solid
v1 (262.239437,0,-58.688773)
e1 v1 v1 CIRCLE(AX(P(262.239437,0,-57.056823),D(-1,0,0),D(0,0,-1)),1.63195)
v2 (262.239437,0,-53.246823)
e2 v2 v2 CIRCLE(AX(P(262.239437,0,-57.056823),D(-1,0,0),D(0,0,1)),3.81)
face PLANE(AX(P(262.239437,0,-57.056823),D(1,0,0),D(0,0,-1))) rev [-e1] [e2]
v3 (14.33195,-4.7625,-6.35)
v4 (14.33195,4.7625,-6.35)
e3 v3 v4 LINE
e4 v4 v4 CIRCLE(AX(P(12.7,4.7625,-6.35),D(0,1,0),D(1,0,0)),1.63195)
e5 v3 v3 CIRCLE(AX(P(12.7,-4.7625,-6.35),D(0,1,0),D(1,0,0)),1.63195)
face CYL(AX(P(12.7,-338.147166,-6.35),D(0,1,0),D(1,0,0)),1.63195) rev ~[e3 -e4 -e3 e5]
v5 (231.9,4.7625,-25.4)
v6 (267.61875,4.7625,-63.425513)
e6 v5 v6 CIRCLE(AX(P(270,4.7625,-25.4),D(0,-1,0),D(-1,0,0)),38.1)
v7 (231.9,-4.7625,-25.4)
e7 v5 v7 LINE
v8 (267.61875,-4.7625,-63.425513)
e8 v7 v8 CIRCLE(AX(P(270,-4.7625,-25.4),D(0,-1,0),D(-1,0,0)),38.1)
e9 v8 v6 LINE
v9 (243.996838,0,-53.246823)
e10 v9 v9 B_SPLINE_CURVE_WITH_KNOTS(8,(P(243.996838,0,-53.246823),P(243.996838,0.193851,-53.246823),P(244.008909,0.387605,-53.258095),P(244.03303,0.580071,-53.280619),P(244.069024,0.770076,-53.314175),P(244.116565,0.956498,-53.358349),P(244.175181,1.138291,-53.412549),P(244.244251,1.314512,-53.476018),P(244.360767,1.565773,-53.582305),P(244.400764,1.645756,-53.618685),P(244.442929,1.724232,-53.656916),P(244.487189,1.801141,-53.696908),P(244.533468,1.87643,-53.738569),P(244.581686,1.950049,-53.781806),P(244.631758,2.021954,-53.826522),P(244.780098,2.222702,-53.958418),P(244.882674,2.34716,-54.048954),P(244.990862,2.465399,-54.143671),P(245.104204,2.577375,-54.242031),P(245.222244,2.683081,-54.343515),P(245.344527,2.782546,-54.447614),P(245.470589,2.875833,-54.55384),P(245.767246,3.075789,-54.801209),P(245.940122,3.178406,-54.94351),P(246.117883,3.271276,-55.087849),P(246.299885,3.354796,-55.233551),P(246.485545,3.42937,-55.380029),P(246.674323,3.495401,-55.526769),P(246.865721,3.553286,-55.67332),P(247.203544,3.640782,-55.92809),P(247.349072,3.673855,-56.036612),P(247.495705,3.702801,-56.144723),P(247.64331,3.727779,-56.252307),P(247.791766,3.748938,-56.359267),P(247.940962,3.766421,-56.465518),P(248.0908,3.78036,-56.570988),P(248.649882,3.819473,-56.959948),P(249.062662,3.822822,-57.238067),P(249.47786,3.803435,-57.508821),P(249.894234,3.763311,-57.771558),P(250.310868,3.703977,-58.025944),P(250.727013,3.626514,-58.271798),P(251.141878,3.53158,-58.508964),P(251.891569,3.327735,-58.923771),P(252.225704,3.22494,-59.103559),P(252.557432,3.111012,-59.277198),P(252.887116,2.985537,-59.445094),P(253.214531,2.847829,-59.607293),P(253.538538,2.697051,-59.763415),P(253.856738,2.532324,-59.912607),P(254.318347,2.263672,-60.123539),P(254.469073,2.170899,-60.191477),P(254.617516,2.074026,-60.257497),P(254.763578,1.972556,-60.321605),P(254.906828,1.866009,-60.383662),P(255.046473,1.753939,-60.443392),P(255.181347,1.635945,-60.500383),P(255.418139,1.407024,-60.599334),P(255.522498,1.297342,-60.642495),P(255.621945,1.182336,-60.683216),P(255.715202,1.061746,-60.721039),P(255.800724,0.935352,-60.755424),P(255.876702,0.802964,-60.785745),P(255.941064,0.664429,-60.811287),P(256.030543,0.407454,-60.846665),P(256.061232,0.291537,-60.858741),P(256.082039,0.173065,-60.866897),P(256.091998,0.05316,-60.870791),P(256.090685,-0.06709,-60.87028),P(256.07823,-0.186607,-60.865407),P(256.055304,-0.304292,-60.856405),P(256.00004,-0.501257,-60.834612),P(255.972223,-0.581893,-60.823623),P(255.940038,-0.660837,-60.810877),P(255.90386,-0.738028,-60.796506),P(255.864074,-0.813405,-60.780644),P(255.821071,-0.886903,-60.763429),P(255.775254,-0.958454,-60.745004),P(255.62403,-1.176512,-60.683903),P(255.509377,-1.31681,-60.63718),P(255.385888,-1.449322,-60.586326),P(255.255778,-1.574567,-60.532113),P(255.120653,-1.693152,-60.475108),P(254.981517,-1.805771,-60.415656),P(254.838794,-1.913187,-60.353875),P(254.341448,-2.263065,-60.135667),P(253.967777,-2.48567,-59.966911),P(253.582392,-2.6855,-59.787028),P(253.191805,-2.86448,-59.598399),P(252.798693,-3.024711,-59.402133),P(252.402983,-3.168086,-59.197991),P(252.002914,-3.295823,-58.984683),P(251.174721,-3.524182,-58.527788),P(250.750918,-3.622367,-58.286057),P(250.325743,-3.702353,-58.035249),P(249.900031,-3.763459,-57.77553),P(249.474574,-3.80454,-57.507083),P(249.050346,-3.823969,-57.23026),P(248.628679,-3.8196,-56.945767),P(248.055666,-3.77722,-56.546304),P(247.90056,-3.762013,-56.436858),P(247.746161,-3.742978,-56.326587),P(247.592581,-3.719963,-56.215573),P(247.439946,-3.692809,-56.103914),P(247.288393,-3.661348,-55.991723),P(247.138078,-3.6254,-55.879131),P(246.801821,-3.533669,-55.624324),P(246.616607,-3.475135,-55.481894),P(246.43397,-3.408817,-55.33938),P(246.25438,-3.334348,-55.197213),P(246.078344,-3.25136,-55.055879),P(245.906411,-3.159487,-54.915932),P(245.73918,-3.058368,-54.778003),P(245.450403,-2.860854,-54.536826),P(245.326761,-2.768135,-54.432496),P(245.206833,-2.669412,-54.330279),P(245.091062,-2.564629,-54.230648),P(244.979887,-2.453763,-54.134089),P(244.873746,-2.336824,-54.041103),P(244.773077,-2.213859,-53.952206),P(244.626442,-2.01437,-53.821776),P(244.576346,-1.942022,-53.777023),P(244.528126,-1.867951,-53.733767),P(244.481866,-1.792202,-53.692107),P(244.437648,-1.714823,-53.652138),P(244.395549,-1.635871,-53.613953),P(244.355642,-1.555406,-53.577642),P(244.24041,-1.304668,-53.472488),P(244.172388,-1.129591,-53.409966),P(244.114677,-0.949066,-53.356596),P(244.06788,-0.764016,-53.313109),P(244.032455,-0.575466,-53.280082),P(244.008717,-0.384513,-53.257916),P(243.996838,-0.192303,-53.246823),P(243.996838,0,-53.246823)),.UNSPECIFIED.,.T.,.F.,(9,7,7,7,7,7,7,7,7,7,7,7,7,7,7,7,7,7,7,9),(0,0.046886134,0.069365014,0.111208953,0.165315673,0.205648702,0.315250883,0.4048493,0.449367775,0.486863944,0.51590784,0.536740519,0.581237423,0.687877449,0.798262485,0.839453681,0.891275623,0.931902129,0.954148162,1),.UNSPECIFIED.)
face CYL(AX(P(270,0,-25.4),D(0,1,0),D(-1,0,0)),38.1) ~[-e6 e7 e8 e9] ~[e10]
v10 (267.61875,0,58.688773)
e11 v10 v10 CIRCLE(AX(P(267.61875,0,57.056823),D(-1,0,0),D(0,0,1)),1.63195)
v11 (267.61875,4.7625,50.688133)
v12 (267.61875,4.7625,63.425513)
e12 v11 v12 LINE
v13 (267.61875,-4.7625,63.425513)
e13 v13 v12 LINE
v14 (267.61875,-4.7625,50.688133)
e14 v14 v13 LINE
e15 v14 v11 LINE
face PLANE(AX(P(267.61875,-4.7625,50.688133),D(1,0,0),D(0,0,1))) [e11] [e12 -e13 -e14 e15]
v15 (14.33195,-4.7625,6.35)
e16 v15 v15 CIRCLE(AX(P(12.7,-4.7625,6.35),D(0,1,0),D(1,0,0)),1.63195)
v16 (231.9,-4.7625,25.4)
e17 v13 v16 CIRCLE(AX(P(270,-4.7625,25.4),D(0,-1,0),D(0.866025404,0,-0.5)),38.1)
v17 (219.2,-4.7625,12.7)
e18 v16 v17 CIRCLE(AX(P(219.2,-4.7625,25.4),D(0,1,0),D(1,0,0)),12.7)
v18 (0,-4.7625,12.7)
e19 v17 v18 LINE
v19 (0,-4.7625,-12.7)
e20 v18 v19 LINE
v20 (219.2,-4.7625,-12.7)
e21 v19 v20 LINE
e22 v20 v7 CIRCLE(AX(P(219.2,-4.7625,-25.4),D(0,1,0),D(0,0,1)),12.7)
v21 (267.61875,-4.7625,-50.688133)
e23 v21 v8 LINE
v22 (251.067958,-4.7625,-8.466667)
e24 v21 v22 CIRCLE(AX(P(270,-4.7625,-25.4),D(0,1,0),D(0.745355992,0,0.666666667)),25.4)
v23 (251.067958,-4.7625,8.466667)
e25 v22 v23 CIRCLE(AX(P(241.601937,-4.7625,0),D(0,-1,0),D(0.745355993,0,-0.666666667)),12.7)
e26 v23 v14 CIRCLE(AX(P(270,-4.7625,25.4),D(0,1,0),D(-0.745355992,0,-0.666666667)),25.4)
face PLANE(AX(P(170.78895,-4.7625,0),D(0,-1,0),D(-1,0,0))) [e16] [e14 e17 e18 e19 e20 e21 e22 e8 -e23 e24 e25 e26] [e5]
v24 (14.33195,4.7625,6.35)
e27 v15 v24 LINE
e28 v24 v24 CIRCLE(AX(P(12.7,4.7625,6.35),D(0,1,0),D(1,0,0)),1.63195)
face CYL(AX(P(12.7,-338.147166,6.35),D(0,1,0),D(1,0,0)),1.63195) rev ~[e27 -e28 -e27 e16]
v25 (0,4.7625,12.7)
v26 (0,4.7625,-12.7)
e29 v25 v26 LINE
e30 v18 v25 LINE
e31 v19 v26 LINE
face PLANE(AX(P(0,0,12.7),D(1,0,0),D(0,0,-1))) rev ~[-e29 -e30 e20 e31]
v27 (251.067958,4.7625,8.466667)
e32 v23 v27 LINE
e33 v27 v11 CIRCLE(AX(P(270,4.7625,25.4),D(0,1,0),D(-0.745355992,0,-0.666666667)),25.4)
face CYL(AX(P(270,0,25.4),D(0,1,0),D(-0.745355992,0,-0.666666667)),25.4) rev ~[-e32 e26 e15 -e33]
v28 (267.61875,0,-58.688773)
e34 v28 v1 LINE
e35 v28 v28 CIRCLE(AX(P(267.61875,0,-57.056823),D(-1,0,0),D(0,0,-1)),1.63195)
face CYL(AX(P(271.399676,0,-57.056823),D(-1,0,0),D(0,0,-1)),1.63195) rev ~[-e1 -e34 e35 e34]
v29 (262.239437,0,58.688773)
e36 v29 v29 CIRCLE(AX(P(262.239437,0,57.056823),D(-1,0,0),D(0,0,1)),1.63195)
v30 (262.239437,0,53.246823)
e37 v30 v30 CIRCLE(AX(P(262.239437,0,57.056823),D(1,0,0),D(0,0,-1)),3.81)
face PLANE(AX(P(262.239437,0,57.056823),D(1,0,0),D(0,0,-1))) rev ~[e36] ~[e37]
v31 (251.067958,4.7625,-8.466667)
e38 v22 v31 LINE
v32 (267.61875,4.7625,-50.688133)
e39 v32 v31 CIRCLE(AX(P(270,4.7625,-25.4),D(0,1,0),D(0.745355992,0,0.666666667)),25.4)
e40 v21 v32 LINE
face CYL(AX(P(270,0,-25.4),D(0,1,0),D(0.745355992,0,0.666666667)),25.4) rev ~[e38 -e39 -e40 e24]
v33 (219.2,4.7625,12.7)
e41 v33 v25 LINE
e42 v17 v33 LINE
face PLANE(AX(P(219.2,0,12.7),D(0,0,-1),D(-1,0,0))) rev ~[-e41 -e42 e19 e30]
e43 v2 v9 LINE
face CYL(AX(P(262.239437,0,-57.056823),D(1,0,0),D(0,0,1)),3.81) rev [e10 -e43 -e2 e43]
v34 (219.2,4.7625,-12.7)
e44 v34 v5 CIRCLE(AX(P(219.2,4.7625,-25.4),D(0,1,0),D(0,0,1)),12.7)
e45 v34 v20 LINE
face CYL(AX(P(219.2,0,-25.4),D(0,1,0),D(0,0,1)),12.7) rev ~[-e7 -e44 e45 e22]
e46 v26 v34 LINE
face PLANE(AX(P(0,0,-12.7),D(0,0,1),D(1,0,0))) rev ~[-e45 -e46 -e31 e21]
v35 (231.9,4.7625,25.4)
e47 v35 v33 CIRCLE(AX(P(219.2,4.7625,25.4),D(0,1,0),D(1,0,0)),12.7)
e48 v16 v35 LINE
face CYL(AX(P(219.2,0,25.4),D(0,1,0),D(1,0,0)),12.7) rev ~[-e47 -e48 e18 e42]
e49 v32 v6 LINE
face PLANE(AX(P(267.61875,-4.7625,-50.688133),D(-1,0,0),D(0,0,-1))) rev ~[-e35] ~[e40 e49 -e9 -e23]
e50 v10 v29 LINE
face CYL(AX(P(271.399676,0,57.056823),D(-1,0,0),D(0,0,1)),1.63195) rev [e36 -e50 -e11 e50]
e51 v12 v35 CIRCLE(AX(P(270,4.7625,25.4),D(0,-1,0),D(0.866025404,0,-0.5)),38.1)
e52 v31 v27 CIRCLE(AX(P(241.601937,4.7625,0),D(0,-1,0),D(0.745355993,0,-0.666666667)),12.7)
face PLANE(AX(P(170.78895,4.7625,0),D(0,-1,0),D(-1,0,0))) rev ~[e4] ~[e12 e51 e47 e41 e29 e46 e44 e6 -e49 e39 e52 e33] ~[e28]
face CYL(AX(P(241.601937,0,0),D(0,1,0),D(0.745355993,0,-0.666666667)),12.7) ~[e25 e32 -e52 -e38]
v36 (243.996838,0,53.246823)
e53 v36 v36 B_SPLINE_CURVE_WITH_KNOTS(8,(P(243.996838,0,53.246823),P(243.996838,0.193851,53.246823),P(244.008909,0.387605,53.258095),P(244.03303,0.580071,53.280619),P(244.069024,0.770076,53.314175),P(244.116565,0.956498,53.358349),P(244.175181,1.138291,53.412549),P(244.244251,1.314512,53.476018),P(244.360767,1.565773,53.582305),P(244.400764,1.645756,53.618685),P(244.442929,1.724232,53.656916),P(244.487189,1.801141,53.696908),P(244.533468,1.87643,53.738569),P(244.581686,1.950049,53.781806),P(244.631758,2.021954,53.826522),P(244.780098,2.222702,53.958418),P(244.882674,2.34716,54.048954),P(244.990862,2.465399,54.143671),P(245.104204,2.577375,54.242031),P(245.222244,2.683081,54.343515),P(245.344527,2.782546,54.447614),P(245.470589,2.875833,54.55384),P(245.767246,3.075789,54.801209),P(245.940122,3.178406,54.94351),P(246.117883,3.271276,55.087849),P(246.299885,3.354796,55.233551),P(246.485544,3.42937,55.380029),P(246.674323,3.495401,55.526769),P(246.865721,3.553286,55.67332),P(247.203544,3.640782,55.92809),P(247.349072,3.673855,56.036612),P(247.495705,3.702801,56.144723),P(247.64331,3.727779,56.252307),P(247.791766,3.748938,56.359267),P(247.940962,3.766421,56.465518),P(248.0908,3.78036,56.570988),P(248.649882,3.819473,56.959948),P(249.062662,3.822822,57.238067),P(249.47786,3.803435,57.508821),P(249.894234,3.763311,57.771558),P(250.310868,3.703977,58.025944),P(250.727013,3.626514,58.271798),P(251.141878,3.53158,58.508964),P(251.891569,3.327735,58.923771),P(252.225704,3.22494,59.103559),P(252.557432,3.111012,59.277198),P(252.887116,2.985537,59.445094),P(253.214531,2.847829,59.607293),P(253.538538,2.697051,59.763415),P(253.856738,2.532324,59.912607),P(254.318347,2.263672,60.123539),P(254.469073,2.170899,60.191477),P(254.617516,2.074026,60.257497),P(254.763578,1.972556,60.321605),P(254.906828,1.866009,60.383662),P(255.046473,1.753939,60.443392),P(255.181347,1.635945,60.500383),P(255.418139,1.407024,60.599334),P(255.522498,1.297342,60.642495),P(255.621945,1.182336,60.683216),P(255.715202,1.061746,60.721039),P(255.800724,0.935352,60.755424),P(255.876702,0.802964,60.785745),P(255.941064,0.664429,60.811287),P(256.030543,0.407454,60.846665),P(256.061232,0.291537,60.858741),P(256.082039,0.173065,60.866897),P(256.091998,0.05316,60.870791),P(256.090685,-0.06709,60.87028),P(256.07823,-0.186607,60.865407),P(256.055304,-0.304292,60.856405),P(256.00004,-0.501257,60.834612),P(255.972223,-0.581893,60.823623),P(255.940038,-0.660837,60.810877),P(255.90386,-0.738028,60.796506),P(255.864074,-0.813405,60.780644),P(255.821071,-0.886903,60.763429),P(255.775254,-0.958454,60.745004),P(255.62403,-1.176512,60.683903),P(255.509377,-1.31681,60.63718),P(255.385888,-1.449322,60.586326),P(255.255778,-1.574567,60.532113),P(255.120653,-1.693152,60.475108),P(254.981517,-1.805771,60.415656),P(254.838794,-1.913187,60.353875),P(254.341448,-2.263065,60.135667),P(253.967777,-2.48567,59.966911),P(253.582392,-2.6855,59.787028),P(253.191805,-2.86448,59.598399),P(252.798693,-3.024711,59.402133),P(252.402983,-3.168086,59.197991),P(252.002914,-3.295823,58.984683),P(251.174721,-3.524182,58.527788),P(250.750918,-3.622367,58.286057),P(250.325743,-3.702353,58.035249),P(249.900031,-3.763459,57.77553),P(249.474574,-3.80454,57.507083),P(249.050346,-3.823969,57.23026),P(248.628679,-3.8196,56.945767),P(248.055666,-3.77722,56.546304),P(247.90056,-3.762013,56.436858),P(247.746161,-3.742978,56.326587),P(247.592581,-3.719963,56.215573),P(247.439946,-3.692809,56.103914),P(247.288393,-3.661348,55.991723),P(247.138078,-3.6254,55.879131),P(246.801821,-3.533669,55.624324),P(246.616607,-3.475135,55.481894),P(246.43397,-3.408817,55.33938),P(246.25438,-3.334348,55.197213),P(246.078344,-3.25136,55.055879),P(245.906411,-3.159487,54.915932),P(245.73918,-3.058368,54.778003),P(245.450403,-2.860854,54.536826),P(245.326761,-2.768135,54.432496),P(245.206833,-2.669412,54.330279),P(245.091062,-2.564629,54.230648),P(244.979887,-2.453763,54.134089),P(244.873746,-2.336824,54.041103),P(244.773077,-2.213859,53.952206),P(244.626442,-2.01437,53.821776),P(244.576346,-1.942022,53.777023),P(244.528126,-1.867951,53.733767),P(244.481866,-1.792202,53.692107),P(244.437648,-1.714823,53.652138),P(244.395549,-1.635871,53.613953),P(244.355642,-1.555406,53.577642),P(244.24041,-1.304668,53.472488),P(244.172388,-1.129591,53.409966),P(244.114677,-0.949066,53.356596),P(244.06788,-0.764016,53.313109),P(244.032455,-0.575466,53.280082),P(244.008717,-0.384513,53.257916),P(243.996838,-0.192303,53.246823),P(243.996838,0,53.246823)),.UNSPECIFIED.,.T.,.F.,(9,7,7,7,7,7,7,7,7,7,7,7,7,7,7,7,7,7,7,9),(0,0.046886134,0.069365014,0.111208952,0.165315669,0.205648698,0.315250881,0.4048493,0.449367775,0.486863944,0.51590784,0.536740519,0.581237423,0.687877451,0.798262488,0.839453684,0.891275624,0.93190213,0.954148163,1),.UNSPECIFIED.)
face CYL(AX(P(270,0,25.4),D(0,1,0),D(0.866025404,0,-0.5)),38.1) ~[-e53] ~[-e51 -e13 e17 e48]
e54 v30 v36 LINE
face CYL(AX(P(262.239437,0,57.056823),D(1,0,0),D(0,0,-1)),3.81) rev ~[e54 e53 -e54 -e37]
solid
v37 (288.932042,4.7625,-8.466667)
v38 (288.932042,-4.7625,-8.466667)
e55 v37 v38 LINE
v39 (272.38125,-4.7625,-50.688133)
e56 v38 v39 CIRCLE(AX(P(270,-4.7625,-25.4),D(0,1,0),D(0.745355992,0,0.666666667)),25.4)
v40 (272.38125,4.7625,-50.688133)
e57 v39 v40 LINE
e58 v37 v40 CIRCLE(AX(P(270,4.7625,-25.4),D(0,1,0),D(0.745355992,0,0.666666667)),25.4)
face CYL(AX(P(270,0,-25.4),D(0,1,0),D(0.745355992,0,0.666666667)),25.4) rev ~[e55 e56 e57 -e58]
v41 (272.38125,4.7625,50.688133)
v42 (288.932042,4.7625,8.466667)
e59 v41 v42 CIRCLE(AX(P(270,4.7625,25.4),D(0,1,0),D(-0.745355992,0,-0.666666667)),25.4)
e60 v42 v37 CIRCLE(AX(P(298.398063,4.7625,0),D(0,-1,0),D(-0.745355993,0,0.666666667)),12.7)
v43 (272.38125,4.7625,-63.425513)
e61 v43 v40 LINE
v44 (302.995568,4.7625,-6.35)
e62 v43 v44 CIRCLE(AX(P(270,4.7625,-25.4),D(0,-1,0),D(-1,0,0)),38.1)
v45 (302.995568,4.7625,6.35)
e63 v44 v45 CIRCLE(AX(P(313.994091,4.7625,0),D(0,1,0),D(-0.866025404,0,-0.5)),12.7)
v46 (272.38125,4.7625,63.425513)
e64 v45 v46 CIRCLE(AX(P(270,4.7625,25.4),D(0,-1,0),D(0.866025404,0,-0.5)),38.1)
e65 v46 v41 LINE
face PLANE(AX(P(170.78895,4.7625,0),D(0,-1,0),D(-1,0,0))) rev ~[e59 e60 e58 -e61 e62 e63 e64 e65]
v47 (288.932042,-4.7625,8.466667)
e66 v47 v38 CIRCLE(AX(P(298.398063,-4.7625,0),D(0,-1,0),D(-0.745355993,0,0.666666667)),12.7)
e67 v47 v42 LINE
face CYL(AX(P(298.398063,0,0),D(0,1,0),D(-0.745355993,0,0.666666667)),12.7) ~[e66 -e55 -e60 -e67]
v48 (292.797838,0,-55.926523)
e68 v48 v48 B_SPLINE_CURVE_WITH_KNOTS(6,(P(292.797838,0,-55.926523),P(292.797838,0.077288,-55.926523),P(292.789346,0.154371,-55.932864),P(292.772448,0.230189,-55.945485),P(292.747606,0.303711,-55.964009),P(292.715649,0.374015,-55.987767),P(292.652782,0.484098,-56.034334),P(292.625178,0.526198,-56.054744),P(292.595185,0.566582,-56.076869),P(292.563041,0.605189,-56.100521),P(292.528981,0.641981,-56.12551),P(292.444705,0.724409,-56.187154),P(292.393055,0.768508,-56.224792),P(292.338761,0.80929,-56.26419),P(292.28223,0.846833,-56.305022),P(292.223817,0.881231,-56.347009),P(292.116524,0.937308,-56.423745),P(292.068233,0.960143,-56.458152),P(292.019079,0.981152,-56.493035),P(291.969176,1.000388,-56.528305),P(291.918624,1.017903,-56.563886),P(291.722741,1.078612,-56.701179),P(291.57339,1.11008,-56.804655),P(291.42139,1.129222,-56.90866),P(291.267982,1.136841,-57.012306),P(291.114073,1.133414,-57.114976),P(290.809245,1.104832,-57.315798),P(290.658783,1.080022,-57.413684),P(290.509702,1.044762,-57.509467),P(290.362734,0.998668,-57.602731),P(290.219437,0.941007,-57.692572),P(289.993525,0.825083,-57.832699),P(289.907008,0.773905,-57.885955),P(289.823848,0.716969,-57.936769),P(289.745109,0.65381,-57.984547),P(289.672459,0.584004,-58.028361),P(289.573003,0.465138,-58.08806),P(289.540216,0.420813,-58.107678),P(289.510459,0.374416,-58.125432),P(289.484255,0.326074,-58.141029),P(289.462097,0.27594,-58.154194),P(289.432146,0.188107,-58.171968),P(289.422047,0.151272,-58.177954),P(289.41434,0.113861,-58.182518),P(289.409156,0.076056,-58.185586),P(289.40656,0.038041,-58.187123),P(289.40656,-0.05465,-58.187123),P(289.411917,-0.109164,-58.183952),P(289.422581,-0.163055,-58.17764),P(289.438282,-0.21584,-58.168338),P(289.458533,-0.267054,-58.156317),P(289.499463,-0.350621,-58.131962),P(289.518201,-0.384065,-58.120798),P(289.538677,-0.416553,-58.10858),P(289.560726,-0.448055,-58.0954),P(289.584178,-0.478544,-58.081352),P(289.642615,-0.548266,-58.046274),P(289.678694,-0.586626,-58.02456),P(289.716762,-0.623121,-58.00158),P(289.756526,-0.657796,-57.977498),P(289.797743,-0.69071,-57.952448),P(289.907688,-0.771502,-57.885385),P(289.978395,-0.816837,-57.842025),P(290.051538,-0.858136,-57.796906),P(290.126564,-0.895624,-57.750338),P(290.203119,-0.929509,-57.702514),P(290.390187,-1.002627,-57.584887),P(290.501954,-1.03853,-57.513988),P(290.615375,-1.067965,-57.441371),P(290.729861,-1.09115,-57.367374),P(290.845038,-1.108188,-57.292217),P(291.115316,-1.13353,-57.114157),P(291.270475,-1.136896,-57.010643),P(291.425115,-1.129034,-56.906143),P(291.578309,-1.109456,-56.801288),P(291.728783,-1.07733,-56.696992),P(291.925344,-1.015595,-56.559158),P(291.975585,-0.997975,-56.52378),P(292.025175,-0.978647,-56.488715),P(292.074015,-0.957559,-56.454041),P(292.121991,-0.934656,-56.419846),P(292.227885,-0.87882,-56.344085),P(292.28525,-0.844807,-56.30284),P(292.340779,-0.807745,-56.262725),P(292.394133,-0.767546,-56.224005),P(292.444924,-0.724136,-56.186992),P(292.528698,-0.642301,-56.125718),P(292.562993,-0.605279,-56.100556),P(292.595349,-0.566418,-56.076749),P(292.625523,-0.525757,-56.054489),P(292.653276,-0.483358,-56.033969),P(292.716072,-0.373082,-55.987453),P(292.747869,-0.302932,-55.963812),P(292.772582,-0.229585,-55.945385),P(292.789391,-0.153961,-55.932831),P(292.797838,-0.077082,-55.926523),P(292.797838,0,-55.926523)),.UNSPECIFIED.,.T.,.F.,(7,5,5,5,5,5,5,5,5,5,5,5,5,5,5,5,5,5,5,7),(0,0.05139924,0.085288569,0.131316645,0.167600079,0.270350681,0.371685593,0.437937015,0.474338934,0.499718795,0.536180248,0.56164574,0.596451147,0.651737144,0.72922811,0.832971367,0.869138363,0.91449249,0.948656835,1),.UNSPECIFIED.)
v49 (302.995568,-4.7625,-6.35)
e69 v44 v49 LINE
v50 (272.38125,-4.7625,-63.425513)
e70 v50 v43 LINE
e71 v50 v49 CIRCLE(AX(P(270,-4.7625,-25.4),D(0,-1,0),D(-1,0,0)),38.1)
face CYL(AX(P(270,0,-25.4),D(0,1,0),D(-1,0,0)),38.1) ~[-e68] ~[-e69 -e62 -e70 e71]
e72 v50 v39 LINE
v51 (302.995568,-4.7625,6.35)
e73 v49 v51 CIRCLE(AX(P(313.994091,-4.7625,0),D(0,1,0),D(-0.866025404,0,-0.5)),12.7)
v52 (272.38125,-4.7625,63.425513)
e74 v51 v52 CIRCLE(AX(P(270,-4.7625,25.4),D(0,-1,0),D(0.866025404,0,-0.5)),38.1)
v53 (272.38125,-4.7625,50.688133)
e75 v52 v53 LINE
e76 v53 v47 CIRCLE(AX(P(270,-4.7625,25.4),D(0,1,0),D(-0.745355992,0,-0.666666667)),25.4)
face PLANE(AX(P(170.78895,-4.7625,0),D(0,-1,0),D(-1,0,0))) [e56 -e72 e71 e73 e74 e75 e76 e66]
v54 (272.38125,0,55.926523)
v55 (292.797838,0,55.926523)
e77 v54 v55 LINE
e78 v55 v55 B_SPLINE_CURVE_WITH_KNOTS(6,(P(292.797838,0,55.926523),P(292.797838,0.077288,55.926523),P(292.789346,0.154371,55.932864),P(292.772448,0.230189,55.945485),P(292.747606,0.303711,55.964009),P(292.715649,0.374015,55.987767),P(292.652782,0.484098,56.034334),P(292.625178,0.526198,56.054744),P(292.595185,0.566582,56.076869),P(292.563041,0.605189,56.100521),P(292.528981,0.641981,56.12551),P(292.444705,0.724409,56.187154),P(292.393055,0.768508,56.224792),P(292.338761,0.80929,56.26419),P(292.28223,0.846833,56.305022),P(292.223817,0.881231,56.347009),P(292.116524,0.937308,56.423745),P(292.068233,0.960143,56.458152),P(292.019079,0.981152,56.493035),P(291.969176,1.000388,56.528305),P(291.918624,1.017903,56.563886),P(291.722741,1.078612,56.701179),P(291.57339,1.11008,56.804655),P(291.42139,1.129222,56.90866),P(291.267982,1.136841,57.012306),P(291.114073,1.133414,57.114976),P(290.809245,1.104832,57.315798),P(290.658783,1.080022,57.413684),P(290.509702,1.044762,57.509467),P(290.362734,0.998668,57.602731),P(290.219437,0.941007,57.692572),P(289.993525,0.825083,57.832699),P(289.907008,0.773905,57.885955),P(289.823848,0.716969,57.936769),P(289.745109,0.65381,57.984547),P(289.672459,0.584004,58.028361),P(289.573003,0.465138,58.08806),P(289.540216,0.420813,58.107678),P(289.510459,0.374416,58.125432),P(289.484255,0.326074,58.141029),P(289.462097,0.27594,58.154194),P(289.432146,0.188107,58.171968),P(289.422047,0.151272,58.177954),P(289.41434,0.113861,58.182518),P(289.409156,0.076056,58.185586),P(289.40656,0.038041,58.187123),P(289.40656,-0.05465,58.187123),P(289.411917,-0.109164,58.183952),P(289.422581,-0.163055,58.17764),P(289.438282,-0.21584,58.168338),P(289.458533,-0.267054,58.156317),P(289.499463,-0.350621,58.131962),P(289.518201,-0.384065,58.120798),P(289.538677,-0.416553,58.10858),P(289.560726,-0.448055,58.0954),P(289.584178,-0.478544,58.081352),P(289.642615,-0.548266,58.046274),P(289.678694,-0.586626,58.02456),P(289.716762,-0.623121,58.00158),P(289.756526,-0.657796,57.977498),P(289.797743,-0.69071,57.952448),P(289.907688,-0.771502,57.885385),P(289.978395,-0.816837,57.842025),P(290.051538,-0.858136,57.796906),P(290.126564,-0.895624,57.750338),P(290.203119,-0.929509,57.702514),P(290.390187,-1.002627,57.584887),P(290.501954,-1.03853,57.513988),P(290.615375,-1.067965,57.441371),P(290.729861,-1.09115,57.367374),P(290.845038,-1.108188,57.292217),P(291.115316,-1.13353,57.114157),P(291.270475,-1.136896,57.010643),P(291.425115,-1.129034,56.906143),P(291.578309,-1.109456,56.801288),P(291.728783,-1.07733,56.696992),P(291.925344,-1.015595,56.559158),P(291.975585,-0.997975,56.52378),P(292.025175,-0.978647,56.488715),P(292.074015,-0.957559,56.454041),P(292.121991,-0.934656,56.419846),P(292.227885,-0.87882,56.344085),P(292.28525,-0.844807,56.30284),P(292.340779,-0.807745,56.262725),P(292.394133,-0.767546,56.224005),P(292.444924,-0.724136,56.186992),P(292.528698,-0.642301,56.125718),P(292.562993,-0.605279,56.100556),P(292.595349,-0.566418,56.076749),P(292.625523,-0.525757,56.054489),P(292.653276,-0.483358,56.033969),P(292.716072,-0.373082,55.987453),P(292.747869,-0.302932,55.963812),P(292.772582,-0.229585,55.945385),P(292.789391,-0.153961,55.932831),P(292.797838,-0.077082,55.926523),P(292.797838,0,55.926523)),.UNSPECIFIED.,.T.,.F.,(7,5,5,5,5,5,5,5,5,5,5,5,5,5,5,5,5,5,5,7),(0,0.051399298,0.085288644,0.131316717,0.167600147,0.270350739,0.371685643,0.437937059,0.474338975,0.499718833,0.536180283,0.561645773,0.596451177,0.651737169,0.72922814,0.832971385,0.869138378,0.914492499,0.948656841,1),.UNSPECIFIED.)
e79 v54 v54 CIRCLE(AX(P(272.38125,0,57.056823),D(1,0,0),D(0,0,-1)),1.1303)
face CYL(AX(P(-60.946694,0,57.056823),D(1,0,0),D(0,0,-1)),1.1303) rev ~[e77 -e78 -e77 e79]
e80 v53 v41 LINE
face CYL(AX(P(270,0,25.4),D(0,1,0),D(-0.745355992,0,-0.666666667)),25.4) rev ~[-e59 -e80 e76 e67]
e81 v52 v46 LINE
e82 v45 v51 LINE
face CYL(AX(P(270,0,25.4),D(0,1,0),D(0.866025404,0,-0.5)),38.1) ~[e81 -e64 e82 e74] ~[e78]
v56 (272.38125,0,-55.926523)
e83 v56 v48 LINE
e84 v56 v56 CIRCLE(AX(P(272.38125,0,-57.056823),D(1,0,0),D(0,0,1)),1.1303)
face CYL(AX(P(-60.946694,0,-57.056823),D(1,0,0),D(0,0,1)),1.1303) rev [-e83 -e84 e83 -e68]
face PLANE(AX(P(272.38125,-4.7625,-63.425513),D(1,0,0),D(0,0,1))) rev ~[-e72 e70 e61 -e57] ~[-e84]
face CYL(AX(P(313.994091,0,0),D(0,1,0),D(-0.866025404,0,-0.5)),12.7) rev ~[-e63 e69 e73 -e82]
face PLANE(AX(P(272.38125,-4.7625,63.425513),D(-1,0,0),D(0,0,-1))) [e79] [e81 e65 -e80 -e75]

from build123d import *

# Parameters (mm, degrees)
BOSS_EXTRUDE1_DEPTH   = 4.7625
F_4_CLEARANCE_HOLE1_D = 3.2639
CUT_EXTRUDE1_DEPTH    = 10.525
CUT_EXTRUDE2_START    = 7.9375
SKETCH26_R            = 3.81
CUT_EXTRUDE2_DEPTH    = 263.239436686
F_4_40_TAPPED_HOLE1_D = 2.2606


with BuildPart() as part:
    # Sketch2 → Boss-Extrude1 (new body, symmetric)
    with BuildSketch(Plane(origin=(0, 0, 0), x_dir=(1, 0, 0), z_dir=(0, 1, 0))):
        with BuildLine():
            Line((0, 12.7), (219.2, 12.7))
            ThreePointArc((219.2, 12.7), (228.180256121, 16.419743879), (231.9, 25.4))
            ThreePointArc((231.9, 25.4), (279.861005618, 62.201773982), (302.995567884, 6.35))
            ThreePointArc((302.995567884, 6.35), (301.294090512, 0), (302.995567884, -6.35))
            ThreePointArc((302.995567884, -6.35), (279.861005618, -62.201773982), (231.9, -25.4))
            ThreePointArc((231.9, -25.4), (228.180256121, -16.419743879), (219.2, -12.7))
            Line((219.2, -12.7), (0, -12.7))
            Line((0, -12.7), (0, 12.7))
        make_face()
        with BuildLine():
            ThreePointArc((288.932042209, 8.466666667), (270, 50.8), (251.067957791, 8.466666667))
            ThreePointArc((251.067957791, 8.466666667), (254.301936686, 0), (251.067957791, -8.466666667))
            ThreePointArc((251.067957791, -8.466666667), (270, -50.8), (288.932042209, -8.466666667))
            ThreePointArc((288.932042209, -8.466666667), (285.698063314, 0), (288.932042209, 8.466666667))
        make_face(mode=Mode.SUBTRACT)
    extrude(amount=BOSS_EXTRUDE1_DEPTH, both=True)

    # #4 Clearance Hole1 (through all)
    with Locations(Plane(origin=(0, -4.7625, 0), x_dir=(-1, 0, 0), z_dir=(0, -1, 0))):
        with Locations((-12.7, -6.35), (-12.7, 6.35)):
            Hole(F_4_CLEARANCE_HOLE1_D / 2)

    # Sketch14 → Cut-Extrude1 (cut, through all)
    with BuildSketch(Plane.XZ.offset(4.7625)):
        with BuildLine():
            Line((267.61875, -50.688132561), (267.61875, -63.425513125))
            ThreePointArc((267.61875, -63.425513125), (270, -63.5), (272.38125, -63.425513125))
            Line((272.38125, -63.425513125), (272.38125, -50.688132561))
            ThreePointArc((272.38125, -50.688132561), (270, -50.8), (267.61875, -50.688132561))
        make_face()
        with BuildLine():
            Line((267.61875, 50.688132561), (267.61875, 63.425513125))
            ThreePointArc((267.61875, 63.425513125), (270, 63.5), (272.38125, 63.425513125))
            Line((272.38125, 63.425513125), (272.38125, 50.688132561))
            ThreePointArc((272.38125, 50.688132561), (270, 50.8), (267.61875, 50.688132561))
        make_face()
    extrude(amount=-CUT_EXTRUDE1_DEPTH, mode=Mode.SUBTRACT)

    # Sketch21 → #4 Clearance Hole2 (revolve, cut)
    with BuildSketch(Plane(origin=(254.301936686, 0, 57.056822843), x_dir=(0, 0, 1), z_dir=(0, 1, 0))):
        Polygon((0, 0), (0, 18.078313314), (1.63195, 17.097738827), (1.63195, 0), align=None)
    f_4_clearance_hole2 = revolve(axis=Axis((247.951936686, 0, 57.056822843), (1, 0, 0)), mode=Mode.SUBTRACT)

    # Sketch26 → Cut-Extrude2 (cut, through all)
    with BuildSketch(Plane(origin=(254.301936686, 0, 0), x_dir=(0, 0, -1), z_dir=(1, 0, 0)).offset(CUT_EXTRUDE2_START)):
        with Locations((-57.056822843, 0)):
            Circle(SKETCH26_R)
    cut_extrude2 = extrude(amount=-CUT_EXTRUDE2_DEPTH, mode=Mode.SUBTRACT)

    # #4-40 Tapped Hole1 (through all)
    with Locations(Plane.ZY.offset(-272.38125)):
        with Locations((57.056822843, 0)):
            f_4_40_tapped_hole1 = Hole(F_4_40_TAPPED_HOLE1_D / 2)

    # Mirror1: #4 Clearance Hole2, Cut-Extrude2, #4-40 Tapped Hole1 across plane
    add(f_4_clearance_hole2.mirror(Plane.XY), mode=Mode.SUBTRACT)
    add(cut_extrude2.mirror(Plane.XY), mode=Mode.SUBTRACT)
    add(f_4_40_tapped_hole1.mirror(Plane.XY), mode=Mode.SUBTRACT)


solid = part.part
